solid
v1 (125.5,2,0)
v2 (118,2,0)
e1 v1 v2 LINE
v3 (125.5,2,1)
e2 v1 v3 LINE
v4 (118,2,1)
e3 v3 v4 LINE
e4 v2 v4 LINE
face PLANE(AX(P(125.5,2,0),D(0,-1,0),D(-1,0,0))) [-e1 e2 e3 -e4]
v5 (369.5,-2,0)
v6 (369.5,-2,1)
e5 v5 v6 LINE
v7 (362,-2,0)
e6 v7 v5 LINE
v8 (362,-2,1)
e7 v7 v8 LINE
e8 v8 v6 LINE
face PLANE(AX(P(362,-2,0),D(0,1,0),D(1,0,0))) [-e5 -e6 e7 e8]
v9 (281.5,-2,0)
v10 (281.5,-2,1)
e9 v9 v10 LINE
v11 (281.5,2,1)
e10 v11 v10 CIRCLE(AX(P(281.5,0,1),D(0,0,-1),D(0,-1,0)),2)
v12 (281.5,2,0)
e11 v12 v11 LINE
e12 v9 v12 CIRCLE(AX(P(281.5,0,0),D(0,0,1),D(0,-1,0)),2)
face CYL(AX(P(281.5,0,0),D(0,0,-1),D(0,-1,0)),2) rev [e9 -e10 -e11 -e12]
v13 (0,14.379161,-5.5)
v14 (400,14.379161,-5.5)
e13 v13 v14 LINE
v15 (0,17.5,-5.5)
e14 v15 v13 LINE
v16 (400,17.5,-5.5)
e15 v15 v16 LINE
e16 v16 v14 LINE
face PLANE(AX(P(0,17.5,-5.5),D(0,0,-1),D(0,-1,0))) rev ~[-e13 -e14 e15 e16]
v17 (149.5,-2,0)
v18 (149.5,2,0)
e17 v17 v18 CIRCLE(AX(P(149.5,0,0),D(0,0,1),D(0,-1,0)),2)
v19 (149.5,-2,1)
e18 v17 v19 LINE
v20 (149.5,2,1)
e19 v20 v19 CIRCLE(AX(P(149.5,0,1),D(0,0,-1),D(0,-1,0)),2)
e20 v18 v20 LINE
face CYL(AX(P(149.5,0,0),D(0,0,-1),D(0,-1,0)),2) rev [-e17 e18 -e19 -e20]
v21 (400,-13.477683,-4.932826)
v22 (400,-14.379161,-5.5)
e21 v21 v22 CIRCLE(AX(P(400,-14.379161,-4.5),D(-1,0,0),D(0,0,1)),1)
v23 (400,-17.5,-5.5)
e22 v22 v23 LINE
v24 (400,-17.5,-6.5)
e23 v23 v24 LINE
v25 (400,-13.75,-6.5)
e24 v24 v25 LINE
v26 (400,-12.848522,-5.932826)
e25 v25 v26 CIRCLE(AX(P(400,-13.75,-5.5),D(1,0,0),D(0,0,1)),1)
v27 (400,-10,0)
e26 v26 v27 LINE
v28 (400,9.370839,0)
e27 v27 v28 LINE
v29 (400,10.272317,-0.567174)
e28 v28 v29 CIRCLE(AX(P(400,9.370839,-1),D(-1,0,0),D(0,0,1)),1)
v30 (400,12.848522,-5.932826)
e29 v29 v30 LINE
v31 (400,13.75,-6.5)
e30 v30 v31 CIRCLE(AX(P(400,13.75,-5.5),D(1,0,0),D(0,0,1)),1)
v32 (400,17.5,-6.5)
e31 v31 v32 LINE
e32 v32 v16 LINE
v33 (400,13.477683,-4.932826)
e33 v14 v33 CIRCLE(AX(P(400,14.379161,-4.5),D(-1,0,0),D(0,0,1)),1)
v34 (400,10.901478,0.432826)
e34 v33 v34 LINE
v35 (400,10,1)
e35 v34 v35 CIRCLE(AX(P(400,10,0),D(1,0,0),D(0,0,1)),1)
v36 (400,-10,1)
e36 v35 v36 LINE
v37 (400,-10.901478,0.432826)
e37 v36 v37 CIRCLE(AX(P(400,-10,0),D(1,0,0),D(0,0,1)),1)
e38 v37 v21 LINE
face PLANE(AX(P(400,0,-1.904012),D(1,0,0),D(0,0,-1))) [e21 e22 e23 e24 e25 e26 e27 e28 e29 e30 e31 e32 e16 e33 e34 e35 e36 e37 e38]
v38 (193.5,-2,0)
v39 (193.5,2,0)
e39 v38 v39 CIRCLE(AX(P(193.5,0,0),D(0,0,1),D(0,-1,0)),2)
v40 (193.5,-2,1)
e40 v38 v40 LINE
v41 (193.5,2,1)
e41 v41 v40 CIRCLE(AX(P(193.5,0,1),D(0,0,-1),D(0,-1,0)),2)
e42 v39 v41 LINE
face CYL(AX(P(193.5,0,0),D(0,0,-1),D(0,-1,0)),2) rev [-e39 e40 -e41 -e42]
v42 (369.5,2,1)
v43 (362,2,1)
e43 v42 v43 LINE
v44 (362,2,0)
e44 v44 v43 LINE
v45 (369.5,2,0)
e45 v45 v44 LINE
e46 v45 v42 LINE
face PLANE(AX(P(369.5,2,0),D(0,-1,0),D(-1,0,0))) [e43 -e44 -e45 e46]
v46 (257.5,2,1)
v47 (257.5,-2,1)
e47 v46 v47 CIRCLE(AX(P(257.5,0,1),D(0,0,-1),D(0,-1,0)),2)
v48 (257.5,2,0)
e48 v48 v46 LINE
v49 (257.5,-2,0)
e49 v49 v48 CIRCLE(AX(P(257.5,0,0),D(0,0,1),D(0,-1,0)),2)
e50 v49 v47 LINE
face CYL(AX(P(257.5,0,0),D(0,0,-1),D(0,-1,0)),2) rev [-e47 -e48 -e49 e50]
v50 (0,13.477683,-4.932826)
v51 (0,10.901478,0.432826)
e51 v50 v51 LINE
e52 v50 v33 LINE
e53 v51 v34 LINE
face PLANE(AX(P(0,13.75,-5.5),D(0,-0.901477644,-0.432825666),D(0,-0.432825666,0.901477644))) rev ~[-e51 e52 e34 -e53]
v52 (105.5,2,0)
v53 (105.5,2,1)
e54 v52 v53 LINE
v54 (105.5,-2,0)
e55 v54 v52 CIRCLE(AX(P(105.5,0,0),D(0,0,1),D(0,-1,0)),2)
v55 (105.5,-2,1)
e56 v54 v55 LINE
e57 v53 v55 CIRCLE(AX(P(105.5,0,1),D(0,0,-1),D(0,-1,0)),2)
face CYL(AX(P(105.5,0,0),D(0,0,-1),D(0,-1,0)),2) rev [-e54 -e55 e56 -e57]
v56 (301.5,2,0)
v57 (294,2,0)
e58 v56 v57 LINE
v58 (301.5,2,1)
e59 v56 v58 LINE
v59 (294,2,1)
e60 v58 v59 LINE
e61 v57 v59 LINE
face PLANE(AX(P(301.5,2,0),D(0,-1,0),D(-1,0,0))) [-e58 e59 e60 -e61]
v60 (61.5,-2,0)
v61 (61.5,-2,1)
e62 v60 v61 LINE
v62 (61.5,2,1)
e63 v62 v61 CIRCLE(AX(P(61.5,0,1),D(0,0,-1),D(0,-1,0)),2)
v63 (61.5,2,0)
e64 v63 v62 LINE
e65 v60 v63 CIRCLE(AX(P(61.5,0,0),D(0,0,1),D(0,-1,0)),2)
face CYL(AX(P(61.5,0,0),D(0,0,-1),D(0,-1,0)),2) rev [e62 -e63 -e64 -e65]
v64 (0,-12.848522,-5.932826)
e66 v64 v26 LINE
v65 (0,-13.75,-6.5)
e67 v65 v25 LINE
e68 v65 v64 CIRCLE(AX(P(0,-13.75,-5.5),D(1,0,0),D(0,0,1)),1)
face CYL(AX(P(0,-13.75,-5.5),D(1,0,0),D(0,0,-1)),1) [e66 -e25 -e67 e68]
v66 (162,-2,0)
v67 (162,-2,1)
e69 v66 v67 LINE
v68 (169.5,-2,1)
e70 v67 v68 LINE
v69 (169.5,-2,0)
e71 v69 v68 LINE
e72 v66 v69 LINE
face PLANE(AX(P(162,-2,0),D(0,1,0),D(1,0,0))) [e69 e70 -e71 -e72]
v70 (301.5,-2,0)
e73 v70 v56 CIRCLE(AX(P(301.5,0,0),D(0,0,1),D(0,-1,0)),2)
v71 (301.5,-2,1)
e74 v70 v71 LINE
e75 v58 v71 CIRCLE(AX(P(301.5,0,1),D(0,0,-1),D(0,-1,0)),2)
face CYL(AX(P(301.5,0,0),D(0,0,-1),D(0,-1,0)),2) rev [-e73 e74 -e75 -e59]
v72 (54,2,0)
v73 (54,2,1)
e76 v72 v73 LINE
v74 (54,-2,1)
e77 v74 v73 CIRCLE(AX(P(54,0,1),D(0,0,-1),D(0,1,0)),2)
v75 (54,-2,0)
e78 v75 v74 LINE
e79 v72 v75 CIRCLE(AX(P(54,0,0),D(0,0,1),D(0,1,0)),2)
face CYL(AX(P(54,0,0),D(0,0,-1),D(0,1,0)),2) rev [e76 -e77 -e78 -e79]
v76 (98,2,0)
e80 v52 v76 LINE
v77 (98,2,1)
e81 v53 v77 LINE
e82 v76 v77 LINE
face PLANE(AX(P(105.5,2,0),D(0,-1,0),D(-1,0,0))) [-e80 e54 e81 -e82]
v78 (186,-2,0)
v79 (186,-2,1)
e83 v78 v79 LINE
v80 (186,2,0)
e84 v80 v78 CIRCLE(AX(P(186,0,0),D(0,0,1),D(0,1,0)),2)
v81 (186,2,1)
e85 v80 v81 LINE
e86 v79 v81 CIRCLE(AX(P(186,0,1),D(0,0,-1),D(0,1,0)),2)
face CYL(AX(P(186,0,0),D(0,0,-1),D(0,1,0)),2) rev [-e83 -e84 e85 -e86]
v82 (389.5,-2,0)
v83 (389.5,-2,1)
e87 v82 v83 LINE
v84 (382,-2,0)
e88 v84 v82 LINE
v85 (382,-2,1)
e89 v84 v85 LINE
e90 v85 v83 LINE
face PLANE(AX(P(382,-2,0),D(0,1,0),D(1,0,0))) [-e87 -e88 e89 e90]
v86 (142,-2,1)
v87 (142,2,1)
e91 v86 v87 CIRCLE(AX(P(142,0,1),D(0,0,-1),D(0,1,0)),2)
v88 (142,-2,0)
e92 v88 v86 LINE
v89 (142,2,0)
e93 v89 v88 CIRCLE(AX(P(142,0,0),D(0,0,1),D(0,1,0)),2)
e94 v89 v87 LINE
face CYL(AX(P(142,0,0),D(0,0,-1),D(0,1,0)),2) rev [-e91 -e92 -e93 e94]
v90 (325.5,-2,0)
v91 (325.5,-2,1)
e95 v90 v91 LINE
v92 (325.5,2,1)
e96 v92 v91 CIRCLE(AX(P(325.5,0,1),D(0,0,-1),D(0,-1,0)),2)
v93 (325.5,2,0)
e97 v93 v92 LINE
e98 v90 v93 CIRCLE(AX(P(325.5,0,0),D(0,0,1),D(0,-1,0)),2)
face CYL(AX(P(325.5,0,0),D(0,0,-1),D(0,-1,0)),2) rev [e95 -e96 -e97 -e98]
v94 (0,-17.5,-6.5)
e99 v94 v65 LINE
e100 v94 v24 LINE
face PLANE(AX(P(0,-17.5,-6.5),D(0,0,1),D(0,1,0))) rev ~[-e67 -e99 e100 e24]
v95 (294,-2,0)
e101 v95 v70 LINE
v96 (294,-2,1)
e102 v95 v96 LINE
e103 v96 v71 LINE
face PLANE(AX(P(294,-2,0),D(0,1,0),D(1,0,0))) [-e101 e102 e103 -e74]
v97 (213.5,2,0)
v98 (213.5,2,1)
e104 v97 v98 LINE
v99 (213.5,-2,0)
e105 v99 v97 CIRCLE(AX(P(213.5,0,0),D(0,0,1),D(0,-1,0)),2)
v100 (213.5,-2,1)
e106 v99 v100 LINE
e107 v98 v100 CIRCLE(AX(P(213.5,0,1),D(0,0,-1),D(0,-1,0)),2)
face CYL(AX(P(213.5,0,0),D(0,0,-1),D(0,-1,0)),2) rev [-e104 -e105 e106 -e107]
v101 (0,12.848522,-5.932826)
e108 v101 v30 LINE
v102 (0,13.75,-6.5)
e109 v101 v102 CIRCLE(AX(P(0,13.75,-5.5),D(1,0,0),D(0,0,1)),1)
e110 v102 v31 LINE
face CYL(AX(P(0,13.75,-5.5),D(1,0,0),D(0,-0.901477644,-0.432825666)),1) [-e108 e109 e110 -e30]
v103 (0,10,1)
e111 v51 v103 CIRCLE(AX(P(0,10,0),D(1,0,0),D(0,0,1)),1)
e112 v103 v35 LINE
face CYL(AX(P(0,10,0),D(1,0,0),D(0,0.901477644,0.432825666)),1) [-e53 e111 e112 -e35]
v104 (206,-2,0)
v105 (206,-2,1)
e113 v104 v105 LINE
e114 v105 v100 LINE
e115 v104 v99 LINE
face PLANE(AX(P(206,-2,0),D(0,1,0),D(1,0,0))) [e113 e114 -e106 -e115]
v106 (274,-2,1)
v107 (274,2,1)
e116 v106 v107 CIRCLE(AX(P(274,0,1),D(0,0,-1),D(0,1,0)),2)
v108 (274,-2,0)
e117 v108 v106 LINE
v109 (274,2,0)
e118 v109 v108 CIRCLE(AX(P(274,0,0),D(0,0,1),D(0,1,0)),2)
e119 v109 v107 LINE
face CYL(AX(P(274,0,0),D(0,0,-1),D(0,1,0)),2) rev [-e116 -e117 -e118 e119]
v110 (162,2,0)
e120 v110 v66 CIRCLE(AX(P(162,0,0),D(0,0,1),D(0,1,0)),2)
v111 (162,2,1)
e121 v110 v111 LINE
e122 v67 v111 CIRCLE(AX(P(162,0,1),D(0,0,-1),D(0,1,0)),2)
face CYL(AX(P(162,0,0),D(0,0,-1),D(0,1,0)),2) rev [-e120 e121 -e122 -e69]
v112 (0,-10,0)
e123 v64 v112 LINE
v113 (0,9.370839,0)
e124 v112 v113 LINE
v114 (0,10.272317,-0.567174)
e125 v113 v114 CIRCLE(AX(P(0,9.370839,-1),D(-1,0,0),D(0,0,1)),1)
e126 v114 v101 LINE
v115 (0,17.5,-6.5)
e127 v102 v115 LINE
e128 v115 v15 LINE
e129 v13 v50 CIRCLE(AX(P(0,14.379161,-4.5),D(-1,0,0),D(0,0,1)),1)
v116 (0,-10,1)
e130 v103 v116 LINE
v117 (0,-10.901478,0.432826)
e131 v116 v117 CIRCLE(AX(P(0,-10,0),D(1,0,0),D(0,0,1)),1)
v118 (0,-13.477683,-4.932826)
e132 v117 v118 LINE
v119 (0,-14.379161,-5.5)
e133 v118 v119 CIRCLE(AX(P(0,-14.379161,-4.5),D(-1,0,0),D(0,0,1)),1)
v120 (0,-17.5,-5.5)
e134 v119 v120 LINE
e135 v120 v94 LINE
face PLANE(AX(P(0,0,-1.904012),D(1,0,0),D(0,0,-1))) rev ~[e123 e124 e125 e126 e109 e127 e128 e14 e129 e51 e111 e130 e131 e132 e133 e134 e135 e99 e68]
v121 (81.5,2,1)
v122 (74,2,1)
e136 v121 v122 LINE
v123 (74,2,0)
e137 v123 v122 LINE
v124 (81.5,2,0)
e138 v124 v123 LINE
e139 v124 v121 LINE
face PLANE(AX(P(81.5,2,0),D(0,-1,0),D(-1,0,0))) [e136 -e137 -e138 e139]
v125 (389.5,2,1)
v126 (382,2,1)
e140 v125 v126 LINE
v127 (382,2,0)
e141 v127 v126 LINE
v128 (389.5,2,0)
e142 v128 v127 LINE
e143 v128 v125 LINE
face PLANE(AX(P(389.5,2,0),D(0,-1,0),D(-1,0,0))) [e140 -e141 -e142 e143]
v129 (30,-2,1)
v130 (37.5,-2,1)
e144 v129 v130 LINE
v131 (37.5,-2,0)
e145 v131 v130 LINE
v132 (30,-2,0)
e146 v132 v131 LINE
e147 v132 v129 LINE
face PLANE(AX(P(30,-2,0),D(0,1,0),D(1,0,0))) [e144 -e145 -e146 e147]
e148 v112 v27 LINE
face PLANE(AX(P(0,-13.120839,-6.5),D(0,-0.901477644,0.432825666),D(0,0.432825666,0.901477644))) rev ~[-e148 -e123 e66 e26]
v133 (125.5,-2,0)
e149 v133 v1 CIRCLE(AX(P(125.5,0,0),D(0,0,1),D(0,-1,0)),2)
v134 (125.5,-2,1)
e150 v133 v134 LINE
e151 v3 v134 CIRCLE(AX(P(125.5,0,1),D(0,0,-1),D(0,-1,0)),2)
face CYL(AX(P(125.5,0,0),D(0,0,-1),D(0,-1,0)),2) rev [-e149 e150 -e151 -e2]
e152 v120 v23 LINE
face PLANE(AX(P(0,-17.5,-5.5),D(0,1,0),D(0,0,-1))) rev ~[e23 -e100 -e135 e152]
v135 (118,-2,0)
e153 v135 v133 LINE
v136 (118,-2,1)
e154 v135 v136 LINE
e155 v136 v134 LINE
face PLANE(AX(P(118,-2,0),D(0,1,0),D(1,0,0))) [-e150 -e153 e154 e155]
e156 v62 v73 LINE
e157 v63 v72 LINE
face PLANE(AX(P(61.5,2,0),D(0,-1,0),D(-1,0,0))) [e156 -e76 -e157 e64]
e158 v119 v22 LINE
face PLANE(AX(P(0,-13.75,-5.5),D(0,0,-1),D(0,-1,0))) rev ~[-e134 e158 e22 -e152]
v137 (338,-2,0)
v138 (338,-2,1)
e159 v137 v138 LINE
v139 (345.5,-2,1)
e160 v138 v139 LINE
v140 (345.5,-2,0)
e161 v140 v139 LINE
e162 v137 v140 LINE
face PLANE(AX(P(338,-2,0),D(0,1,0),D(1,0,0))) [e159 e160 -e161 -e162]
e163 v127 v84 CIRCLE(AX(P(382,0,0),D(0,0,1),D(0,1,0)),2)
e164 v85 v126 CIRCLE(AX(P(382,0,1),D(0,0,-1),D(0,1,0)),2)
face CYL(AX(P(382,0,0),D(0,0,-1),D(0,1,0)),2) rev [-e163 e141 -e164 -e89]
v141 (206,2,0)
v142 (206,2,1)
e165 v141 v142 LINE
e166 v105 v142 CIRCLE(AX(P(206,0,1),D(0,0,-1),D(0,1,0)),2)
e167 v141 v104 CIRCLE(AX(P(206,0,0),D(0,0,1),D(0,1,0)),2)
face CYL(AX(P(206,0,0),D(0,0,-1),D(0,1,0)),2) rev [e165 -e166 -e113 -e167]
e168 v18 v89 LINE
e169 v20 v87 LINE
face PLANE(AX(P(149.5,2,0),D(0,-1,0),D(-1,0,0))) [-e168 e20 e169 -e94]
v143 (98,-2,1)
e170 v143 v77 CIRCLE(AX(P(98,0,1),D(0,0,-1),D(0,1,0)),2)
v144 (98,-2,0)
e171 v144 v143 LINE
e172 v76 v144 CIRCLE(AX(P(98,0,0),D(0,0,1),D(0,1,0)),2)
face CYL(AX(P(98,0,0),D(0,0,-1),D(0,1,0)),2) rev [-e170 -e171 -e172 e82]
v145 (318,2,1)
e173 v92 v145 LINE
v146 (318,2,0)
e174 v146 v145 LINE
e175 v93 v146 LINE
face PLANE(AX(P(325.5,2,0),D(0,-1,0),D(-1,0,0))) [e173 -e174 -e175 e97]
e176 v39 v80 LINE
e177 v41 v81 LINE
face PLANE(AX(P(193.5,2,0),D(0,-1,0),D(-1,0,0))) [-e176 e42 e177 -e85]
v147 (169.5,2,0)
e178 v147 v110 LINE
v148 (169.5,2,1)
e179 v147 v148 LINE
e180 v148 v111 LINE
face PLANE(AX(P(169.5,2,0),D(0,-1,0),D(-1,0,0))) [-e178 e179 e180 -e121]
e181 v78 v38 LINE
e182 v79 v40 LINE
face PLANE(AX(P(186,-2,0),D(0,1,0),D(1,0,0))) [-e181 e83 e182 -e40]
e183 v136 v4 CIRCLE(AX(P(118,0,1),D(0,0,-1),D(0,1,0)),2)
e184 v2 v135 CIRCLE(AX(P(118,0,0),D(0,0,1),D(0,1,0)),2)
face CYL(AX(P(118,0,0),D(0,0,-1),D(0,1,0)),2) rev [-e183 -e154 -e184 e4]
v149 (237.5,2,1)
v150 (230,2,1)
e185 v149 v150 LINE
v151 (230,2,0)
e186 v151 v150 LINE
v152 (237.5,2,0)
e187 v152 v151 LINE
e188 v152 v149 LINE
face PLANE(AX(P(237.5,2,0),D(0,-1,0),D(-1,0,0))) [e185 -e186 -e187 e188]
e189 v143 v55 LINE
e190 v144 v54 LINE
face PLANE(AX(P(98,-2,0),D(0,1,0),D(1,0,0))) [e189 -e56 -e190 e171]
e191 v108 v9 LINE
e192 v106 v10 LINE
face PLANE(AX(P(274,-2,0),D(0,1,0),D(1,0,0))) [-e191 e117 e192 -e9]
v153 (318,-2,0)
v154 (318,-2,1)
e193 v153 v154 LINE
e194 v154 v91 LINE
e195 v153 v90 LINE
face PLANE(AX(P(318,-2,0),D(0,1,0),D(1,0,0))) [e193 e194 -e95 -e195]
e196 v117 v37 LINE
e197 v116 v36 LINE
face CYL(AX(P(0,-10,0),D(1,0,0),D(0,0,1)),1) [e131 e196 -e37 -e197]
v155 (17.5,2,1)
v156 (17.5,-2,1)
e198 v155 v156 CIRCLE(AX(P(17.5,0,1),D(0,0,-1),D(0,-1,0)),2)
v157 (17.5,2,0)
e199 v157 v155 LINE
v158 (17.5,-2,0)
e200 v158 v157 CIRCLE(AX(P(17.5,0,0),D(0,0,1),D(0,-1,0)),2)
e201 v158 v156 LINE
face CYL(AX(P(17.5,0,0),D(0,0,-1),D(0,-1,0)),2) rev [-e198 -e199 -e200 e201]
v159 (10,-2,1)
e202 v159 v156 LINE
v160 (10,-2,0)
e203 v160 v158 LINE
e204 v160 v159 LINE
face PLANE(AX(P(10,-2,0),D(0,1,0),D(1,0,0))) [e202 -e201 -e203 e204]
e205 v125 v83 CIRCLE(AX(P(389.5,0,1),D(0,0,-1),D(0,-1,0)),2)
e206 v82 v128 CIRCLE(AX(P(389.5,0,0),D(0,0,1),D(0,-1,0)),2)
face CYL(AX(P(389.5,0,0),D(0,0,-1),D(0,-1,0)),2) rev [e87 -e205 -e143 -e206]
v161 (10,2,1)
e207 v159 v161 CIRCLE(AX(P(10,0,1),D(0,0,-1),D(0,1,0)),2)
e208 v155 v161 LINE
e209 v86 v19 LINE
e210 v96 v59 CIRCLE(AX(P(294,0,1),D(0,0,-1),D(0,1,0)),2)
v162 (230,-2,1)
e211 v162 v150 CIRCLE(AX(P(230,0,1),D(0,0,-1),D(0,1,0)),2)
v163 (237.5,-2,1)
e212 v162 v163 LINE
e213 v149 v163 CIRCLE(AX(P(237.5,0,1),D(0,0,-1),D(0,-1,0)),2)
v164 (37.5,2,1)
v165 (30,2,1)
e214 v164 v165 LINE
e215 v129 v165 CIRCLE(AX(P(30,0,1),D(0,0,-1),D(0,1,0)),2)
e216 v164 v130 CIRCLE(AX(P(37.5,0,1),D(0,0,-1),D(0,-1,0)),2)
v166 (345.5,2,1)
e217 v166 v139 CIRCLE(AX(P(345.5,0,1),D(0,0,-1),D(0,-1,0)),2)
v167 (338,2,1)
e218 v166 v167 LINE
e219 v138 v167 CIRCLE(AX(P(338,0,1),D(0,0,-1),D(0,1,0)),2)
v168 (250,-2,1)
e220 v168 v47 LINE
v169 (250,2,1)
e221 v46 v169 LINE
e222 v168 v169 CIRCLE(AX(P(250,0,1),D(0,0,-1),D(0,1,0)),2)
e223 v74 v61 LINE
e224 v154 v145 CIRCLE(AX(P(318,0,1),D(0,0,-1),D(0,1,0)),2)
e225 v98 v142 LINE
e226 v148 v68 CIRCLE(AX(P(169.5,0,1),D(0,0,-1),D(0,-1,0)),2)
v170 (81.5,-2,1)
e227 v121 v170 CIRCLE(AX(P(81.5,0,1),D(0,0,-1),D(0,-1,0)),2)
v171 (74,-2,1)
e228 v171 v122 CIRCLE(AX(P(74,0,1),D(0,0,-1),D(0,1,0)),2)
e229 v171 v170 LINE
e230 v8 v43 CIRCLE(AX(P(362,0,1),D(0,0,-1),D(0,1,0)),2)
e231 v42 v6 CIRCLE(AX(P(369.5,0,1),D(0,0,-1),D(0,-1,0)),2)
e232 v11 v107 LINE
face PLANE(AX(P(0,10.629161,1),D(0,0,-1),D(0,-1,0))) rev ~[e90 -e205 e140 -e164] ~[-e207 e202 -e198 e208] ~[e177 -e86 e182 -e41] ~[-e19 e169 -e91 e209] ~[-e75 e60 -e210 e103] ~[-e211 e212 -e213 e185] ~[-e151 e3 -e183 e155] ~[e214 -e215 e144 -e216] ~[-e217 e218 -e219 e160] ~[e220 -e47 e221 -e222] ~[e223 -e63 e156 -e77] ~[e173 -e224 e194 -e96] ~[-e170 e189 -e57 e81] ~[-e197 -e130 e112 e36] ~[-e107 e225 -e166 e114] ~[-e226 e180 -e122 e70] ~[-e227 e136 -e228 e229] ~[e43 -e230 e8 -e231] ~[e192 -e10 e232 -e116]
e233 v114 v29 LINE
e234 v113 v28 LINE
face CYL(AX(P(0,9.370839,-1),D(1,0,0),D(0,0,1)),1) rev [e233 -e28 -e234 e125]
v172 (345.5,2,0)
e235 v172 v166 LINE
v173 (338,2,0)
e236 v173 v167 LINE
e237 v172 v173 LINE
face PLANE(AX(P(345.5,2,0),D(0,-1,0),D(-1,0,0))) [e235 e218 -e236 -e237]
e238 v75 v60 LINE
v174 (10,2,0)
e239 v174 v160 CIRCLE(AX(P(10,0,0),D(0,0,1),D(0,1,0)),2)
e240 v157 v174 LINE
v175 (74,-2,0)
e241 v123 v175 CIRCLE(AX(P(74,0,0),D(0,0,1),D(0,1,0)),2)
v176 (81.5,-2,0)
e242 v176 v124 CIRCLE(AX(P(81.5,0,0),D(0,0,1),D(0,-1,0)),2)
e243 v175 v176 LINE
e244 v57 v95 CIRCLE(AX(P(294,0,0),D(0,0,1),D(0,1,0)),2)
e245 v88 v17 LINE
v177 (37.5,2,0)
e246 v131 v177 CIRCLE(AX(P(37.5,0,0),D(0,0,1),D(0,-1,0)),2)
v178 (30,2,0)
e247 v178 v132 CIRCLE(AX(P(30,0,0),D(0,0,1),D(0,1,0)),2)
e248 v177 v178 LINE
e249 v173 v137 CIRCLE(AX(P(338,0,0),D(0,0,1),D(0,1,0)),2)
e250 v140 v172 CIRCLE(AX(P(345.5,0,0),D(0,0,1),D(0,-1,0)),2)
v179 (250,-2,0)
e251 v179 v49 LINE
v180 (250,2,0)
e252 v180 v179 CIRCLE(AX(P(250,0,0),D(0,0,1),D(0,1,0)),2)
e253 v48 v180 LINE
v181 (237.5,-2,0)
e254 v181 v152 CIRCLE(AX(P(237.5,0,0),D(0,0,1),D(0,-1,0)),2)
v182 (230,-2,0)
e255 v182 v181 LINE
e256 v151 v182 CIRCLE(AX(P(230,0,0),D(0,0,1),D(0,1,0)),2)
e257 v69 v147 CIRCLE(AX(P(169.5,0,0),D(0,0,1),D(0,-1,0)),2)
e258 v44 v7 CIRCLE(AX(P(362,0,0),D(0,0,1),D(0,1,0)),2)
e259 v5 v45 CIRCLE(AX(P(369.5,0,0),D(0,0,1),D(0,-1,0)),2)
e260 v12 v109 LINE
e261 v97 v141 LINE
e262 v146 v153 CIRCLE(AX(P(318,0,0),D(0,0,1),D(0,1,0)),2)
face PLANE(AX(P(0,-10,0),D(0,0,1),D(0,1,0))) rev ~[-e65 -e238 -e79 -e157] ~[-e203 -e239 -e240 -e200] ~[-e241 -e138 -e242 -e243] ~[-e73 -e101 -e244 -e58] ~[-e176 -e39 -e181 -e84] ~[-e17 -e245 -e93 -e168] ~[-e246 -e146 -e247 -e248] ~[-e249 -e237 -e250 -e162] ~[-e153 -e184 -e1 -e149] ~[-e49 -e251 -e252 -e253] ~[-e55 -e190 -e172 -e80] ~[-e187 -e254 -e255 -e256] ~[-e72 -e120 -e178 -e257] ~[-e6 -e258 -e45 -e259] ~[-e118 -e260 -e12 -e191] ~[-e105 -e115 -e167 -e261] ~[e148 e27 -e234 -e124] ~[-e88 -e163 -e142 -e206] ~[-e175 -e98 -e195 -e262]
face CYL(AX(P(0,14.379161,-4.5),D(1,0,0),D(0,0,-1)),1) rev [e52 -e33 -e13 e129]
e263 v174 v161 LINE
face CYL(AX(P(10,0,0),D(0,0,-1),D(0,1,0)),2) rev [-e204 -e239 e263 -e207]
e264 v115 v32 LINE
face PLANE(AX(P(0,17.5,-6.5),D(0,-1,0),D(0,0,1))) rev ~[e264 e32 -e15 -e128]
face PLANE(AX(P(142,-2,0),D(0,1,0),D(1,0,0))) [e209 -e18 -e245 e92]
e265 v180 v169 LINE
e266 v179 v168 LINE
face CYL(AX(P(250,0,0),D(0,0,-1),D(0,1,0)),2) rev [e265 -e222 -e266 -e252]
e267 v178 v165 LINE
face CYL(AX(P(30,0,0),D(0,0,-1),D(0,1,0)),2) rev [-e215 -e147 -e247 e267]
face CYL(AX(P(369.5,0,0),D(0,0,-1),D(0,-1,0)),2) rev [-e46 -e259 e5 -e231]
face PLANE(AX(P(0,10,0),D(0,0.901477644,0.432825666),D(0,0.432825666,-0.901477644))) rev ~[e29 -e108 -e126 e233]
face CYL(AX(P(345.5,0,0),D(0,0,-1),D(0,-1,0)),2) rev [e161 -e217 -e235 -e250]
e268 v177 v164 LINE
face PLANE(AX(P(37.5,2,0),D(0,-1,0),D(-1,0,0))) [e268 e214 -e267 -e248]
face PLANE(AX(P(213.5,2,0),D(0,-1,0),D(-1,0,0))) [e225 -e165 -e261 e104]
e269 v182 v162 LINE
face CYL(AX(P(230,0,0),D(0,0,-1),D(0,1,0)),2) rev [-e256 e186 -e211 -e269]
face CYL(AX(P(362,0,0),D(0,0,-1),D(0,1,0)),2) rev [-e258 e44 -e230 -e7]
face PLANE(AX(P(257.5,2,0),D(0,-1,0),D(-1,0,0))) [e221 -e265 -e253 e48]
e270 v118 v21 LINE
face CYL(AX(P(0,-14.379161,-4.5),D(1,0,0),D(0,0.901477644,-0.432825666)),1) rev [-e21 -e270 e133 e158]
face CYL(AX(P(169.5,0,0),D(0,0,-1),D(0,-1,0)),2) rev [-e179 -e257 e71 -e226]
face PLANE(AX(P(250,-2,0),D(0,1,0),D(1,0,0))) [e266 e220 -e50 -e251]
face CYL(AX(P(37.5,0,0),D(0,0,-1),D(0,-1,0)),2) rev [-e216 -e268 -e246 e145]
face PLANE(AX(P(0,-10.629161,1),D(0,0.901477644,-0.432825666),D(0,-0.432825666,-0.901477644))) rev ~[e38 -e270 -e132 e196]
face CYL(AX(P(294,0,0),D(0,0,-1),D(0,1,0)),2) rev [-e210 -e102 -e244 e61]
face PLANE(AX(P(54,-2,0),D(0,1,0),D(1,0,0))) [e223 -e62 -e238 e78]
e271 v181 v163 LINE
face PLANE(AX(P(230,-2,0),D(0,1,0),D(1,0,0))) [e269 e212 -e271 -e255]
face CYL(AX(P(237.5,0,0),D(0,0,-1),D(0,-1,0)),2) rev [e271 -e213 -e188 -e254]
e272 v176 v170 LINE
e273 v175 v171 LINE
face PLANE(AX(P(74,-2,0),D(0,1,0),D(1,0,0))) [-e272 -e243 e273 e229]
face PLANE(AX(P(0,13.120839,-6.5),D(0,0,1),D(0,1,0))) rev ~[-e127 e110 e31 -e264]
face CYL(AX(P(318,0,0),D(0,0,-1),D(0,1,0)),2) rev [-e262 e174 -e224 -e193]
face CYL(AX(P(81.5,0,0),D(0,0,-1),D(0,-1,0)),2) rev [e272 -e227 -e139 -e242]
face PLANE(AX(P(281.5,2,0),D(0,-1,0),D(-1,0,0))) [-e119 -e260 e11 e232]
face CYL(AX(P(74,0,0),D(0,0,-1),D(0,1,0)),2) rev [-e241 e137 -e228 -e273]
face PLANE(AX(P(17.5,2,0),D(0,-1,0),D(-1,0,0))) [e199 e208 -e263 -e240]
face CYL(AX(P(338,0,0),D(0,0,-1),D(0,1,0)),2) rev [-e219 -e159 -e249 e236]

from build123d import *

# Parameters (mm, degrees)
EXTRUDE_1_DEPTH     = 400
FILLET_1_R          = 1
CUT_EXTRUDE_1_DEPTH = 10


with BuildPart() as part:
    # 草图1 → 凸台-拉伸1 (new body)
    with BuildSketch(Plane(origin=(0, 0, 0), x_dir=(0, 0, -1), z_dir=(1, 0, 0))):
        Polygon((0, -10), (0, 10), (6.5, 13.120839269), (6.5, 17.5), (5.5, 17.5), (5.5, 13.75), (-1, 10.629160731), (-1, -10.629160731), (5.5, -13.75), (5.5, -17.5), (6.5, -17.5), (6.5, -13.120839269), align=None)
    extrude(amount=EXTRUDE_1_DEPTH)

    # 圆角1
    fillet_1_edges = [part.edges().sort_by_distance(p)[0] for p in [
        (200, 10, 0),
        (200, -13.120839269, -6.5),
        (200, -13.75, -5.5),
        (200, -10.629160731, 1),
        (200, 10.629160731, 1),
        (200, 13.75, -5.5),
        (200, 13.120839269, -6.5),
    ]]
    fillet(fillet_1_edges, radius=FILLET_1_R)

    # 草图2 → 切除-拉伸1 (cut)
    with BuildSketch(Plane(origin=(0, 0, 0), x_dir=(-1, 0, 0), z_dir=(0, 0, -1))):
        with BuildLine():
            Line((-10, -2), (-17.5, -2))
            ThreePointArc((-17.5, -2), (-19.5, 0), (-17.5, 2))
            Line((-17.5, 2), (-10, 2))
            ThreePointArc((-10, 2), (-8, 0), (-10, -2))
        make_face()
        with BuildLine():
            Line((-30, -2), (-37.5, -2))
            ThreePointArc((-37.5, -2), (-39.5, 0), (-37.5, 2))
            Line((-37.5, 2), (-30, 2))
            ThreePointArc((-30, 2), (-28, 0), (-30, -2))
        make_face()
        with BuildLine():
            Line((-54, -2), (-61.5, -2))
            ThreePointArc((-61.5, -2), (-63.5, 0), (-61.5, 2))
            Line((-61.5, 2), (-54, 2))
            ThreePointArc((-54, 2), (-52, 0), (-54, -2))
        make_face()
        with BuildLine():
            Line((-74, -2), (-81.5, -2))
            ThreePointArc((-81.5, -2), (-83.5, 0), (-81.5, 2))
            Line((-81.5, 2), (-74, 2))
            ThreePointArc((-74, 2), (-72, 0), (-74, -2))
        make_face()
        with BuildLine():
            Line((-98, -2), (-105.5, -2))
            ThreePointArc((-105.5, -2), (-107.5, 0), (-105.5, 2))
            Line((-105.5, 2), (-98, 2))
            ThreePointArc((-98, 2), (-96, 0), (-98, -2))
        make_face()
        with BuildLine():
            Line((-118, -2), (-125.5, -2))
            ThreePointArc((-125.5, -2), (-127.5, 0), (-125.5, 2))
            Line((-125.5, 2), (-118, 2))
            ThreePointArc((-118, 2), (-116, 0), (-118, -2))
        make_face()
        with BuildLine():
            Line((-142, -2), (-149.5, -2))
            ThreePointArc((-149.5, -2), (-151.5, 0), (-149.5, 2))
            Line((-149.5, 2), (-142, 2))
            ThreePointArc((-142, 2), (-140, 0), (-142, -2))
        make_face()
        with BuildLine():
            Line((-162, -2), (-169.5, -2))
            ThreePointArc((-169.5, -2), (-171.5, 0), (-169.5, 2))
            Line((-169.5, 2), (-162, 2))
            ThreePointArc((-162, 2), (-160, 0), (-162, -2))
        make_face()
        with BuildLine():
            Line((-186, -2), (-193.5, -2))
            ThreePointArc((-193.5, -2), (-195.5, 0), (-193.5, 2))
            Line((-193.5, 2), (-186, 2))
            ThreePointArc((-186, 2), (-184, 0), (-186, -2))
        make_face()
        with BuildLine():
            Line((-206, -2), (-213.5, -2))
            ThreePointArc((-213.5, -2), (-215.5, 0), (-213.5, 2))
            Line((-213.5, 2), (-206, 2))
            ThreePointArc((-206, 2), (-204, 0), (-206, -2))
        make_face()
        with BuildLine():
            Line((-230, -2), (-237.5, -2))
            ThreePointArc((-237.5, -2), (-239.5, 0), (-237.5, 2))
            Line((-237.5, 2), (-230, 2))
            ThreePointArc((-230, 2), (-228, 0), (-230, -2))
        make_face()
        with BuildLine():
            Line((-250, -2), (-257.5, -2))
            ThreePointArc((-257.5, -2), (-259.5, 0), (-257.5, 2))
            Line((-257.5, 2), (-250, 2))
            ThreePointArc((-250, 2), (-248, 0), (-250, -2))
        make_face()
        with BuildLine():
            Line((-274, -2), (-281.5, -2))
            ThreePointArc((-281.5, -2), (-283.5, 0), (-281.5, 2))
            Line((-281.5, 2), (-274, 2))
            ThreePointArc((-274, 2), (-272, 0), (-274, -2))
        make_face()
        with BuildLine():
            Line((-294, -2), (-301.5, -2))
            ThreePointArc((-301.5, -2), (-303.5, 0), (-301.5, 2))
            Line((-301.5, 2), (-294, 2))
            ThreePointArc((-294, 2), (-292, 0), (-294, -2))
        make_face()
        with BuildLine():
            Line((-318, -2), (-325.5, -2))
            ThreePointArc((-325.5, -2), (-327.5, 0), (-325.5, 2))
            Line((-325.5, 2), (-318, 2))
            ThreePointArc((-318, 2), (-316, 0), (-318, -2))
        make_face()
        with BuildLine():
            Line((-338, -2), (-345.5, -2))
            ThreePointArc((-345.5, -2), (-347.5, 0), (-345.5, 2))
            Line((-345.5, 2), (-338, 2))
            ThreePointArc((-338, 2), (-336, 0), (-338, -2))
        make_face()
        with BuildLine():
            Line((-362, -2), (-369.5, -2))
            ThreePointArc((-369.5, -2), (-371.5, 0), (-369.5, 2))
            Line((-369.5, 2), (-362, 2))
            ThreePointArc((-362, 2), (-360, 0), (-362, -2))
        make_face()
        with BuildLine():
            Line((-382, -2), (-389.5, -2))
            ThreePointArc((-389.5, -2), (-391.5, 0), (-389.5, 2))
            Line((-389.5, 2), (-382, 2))
            ThreePointArc((-382, 2), (-380, 0), (-382, -2))
        make_face()
    extrude(amount=-CUT_EXTRUDE_1_DEPTH, mode=Mode.SUBTRACT)


solid = part.part
